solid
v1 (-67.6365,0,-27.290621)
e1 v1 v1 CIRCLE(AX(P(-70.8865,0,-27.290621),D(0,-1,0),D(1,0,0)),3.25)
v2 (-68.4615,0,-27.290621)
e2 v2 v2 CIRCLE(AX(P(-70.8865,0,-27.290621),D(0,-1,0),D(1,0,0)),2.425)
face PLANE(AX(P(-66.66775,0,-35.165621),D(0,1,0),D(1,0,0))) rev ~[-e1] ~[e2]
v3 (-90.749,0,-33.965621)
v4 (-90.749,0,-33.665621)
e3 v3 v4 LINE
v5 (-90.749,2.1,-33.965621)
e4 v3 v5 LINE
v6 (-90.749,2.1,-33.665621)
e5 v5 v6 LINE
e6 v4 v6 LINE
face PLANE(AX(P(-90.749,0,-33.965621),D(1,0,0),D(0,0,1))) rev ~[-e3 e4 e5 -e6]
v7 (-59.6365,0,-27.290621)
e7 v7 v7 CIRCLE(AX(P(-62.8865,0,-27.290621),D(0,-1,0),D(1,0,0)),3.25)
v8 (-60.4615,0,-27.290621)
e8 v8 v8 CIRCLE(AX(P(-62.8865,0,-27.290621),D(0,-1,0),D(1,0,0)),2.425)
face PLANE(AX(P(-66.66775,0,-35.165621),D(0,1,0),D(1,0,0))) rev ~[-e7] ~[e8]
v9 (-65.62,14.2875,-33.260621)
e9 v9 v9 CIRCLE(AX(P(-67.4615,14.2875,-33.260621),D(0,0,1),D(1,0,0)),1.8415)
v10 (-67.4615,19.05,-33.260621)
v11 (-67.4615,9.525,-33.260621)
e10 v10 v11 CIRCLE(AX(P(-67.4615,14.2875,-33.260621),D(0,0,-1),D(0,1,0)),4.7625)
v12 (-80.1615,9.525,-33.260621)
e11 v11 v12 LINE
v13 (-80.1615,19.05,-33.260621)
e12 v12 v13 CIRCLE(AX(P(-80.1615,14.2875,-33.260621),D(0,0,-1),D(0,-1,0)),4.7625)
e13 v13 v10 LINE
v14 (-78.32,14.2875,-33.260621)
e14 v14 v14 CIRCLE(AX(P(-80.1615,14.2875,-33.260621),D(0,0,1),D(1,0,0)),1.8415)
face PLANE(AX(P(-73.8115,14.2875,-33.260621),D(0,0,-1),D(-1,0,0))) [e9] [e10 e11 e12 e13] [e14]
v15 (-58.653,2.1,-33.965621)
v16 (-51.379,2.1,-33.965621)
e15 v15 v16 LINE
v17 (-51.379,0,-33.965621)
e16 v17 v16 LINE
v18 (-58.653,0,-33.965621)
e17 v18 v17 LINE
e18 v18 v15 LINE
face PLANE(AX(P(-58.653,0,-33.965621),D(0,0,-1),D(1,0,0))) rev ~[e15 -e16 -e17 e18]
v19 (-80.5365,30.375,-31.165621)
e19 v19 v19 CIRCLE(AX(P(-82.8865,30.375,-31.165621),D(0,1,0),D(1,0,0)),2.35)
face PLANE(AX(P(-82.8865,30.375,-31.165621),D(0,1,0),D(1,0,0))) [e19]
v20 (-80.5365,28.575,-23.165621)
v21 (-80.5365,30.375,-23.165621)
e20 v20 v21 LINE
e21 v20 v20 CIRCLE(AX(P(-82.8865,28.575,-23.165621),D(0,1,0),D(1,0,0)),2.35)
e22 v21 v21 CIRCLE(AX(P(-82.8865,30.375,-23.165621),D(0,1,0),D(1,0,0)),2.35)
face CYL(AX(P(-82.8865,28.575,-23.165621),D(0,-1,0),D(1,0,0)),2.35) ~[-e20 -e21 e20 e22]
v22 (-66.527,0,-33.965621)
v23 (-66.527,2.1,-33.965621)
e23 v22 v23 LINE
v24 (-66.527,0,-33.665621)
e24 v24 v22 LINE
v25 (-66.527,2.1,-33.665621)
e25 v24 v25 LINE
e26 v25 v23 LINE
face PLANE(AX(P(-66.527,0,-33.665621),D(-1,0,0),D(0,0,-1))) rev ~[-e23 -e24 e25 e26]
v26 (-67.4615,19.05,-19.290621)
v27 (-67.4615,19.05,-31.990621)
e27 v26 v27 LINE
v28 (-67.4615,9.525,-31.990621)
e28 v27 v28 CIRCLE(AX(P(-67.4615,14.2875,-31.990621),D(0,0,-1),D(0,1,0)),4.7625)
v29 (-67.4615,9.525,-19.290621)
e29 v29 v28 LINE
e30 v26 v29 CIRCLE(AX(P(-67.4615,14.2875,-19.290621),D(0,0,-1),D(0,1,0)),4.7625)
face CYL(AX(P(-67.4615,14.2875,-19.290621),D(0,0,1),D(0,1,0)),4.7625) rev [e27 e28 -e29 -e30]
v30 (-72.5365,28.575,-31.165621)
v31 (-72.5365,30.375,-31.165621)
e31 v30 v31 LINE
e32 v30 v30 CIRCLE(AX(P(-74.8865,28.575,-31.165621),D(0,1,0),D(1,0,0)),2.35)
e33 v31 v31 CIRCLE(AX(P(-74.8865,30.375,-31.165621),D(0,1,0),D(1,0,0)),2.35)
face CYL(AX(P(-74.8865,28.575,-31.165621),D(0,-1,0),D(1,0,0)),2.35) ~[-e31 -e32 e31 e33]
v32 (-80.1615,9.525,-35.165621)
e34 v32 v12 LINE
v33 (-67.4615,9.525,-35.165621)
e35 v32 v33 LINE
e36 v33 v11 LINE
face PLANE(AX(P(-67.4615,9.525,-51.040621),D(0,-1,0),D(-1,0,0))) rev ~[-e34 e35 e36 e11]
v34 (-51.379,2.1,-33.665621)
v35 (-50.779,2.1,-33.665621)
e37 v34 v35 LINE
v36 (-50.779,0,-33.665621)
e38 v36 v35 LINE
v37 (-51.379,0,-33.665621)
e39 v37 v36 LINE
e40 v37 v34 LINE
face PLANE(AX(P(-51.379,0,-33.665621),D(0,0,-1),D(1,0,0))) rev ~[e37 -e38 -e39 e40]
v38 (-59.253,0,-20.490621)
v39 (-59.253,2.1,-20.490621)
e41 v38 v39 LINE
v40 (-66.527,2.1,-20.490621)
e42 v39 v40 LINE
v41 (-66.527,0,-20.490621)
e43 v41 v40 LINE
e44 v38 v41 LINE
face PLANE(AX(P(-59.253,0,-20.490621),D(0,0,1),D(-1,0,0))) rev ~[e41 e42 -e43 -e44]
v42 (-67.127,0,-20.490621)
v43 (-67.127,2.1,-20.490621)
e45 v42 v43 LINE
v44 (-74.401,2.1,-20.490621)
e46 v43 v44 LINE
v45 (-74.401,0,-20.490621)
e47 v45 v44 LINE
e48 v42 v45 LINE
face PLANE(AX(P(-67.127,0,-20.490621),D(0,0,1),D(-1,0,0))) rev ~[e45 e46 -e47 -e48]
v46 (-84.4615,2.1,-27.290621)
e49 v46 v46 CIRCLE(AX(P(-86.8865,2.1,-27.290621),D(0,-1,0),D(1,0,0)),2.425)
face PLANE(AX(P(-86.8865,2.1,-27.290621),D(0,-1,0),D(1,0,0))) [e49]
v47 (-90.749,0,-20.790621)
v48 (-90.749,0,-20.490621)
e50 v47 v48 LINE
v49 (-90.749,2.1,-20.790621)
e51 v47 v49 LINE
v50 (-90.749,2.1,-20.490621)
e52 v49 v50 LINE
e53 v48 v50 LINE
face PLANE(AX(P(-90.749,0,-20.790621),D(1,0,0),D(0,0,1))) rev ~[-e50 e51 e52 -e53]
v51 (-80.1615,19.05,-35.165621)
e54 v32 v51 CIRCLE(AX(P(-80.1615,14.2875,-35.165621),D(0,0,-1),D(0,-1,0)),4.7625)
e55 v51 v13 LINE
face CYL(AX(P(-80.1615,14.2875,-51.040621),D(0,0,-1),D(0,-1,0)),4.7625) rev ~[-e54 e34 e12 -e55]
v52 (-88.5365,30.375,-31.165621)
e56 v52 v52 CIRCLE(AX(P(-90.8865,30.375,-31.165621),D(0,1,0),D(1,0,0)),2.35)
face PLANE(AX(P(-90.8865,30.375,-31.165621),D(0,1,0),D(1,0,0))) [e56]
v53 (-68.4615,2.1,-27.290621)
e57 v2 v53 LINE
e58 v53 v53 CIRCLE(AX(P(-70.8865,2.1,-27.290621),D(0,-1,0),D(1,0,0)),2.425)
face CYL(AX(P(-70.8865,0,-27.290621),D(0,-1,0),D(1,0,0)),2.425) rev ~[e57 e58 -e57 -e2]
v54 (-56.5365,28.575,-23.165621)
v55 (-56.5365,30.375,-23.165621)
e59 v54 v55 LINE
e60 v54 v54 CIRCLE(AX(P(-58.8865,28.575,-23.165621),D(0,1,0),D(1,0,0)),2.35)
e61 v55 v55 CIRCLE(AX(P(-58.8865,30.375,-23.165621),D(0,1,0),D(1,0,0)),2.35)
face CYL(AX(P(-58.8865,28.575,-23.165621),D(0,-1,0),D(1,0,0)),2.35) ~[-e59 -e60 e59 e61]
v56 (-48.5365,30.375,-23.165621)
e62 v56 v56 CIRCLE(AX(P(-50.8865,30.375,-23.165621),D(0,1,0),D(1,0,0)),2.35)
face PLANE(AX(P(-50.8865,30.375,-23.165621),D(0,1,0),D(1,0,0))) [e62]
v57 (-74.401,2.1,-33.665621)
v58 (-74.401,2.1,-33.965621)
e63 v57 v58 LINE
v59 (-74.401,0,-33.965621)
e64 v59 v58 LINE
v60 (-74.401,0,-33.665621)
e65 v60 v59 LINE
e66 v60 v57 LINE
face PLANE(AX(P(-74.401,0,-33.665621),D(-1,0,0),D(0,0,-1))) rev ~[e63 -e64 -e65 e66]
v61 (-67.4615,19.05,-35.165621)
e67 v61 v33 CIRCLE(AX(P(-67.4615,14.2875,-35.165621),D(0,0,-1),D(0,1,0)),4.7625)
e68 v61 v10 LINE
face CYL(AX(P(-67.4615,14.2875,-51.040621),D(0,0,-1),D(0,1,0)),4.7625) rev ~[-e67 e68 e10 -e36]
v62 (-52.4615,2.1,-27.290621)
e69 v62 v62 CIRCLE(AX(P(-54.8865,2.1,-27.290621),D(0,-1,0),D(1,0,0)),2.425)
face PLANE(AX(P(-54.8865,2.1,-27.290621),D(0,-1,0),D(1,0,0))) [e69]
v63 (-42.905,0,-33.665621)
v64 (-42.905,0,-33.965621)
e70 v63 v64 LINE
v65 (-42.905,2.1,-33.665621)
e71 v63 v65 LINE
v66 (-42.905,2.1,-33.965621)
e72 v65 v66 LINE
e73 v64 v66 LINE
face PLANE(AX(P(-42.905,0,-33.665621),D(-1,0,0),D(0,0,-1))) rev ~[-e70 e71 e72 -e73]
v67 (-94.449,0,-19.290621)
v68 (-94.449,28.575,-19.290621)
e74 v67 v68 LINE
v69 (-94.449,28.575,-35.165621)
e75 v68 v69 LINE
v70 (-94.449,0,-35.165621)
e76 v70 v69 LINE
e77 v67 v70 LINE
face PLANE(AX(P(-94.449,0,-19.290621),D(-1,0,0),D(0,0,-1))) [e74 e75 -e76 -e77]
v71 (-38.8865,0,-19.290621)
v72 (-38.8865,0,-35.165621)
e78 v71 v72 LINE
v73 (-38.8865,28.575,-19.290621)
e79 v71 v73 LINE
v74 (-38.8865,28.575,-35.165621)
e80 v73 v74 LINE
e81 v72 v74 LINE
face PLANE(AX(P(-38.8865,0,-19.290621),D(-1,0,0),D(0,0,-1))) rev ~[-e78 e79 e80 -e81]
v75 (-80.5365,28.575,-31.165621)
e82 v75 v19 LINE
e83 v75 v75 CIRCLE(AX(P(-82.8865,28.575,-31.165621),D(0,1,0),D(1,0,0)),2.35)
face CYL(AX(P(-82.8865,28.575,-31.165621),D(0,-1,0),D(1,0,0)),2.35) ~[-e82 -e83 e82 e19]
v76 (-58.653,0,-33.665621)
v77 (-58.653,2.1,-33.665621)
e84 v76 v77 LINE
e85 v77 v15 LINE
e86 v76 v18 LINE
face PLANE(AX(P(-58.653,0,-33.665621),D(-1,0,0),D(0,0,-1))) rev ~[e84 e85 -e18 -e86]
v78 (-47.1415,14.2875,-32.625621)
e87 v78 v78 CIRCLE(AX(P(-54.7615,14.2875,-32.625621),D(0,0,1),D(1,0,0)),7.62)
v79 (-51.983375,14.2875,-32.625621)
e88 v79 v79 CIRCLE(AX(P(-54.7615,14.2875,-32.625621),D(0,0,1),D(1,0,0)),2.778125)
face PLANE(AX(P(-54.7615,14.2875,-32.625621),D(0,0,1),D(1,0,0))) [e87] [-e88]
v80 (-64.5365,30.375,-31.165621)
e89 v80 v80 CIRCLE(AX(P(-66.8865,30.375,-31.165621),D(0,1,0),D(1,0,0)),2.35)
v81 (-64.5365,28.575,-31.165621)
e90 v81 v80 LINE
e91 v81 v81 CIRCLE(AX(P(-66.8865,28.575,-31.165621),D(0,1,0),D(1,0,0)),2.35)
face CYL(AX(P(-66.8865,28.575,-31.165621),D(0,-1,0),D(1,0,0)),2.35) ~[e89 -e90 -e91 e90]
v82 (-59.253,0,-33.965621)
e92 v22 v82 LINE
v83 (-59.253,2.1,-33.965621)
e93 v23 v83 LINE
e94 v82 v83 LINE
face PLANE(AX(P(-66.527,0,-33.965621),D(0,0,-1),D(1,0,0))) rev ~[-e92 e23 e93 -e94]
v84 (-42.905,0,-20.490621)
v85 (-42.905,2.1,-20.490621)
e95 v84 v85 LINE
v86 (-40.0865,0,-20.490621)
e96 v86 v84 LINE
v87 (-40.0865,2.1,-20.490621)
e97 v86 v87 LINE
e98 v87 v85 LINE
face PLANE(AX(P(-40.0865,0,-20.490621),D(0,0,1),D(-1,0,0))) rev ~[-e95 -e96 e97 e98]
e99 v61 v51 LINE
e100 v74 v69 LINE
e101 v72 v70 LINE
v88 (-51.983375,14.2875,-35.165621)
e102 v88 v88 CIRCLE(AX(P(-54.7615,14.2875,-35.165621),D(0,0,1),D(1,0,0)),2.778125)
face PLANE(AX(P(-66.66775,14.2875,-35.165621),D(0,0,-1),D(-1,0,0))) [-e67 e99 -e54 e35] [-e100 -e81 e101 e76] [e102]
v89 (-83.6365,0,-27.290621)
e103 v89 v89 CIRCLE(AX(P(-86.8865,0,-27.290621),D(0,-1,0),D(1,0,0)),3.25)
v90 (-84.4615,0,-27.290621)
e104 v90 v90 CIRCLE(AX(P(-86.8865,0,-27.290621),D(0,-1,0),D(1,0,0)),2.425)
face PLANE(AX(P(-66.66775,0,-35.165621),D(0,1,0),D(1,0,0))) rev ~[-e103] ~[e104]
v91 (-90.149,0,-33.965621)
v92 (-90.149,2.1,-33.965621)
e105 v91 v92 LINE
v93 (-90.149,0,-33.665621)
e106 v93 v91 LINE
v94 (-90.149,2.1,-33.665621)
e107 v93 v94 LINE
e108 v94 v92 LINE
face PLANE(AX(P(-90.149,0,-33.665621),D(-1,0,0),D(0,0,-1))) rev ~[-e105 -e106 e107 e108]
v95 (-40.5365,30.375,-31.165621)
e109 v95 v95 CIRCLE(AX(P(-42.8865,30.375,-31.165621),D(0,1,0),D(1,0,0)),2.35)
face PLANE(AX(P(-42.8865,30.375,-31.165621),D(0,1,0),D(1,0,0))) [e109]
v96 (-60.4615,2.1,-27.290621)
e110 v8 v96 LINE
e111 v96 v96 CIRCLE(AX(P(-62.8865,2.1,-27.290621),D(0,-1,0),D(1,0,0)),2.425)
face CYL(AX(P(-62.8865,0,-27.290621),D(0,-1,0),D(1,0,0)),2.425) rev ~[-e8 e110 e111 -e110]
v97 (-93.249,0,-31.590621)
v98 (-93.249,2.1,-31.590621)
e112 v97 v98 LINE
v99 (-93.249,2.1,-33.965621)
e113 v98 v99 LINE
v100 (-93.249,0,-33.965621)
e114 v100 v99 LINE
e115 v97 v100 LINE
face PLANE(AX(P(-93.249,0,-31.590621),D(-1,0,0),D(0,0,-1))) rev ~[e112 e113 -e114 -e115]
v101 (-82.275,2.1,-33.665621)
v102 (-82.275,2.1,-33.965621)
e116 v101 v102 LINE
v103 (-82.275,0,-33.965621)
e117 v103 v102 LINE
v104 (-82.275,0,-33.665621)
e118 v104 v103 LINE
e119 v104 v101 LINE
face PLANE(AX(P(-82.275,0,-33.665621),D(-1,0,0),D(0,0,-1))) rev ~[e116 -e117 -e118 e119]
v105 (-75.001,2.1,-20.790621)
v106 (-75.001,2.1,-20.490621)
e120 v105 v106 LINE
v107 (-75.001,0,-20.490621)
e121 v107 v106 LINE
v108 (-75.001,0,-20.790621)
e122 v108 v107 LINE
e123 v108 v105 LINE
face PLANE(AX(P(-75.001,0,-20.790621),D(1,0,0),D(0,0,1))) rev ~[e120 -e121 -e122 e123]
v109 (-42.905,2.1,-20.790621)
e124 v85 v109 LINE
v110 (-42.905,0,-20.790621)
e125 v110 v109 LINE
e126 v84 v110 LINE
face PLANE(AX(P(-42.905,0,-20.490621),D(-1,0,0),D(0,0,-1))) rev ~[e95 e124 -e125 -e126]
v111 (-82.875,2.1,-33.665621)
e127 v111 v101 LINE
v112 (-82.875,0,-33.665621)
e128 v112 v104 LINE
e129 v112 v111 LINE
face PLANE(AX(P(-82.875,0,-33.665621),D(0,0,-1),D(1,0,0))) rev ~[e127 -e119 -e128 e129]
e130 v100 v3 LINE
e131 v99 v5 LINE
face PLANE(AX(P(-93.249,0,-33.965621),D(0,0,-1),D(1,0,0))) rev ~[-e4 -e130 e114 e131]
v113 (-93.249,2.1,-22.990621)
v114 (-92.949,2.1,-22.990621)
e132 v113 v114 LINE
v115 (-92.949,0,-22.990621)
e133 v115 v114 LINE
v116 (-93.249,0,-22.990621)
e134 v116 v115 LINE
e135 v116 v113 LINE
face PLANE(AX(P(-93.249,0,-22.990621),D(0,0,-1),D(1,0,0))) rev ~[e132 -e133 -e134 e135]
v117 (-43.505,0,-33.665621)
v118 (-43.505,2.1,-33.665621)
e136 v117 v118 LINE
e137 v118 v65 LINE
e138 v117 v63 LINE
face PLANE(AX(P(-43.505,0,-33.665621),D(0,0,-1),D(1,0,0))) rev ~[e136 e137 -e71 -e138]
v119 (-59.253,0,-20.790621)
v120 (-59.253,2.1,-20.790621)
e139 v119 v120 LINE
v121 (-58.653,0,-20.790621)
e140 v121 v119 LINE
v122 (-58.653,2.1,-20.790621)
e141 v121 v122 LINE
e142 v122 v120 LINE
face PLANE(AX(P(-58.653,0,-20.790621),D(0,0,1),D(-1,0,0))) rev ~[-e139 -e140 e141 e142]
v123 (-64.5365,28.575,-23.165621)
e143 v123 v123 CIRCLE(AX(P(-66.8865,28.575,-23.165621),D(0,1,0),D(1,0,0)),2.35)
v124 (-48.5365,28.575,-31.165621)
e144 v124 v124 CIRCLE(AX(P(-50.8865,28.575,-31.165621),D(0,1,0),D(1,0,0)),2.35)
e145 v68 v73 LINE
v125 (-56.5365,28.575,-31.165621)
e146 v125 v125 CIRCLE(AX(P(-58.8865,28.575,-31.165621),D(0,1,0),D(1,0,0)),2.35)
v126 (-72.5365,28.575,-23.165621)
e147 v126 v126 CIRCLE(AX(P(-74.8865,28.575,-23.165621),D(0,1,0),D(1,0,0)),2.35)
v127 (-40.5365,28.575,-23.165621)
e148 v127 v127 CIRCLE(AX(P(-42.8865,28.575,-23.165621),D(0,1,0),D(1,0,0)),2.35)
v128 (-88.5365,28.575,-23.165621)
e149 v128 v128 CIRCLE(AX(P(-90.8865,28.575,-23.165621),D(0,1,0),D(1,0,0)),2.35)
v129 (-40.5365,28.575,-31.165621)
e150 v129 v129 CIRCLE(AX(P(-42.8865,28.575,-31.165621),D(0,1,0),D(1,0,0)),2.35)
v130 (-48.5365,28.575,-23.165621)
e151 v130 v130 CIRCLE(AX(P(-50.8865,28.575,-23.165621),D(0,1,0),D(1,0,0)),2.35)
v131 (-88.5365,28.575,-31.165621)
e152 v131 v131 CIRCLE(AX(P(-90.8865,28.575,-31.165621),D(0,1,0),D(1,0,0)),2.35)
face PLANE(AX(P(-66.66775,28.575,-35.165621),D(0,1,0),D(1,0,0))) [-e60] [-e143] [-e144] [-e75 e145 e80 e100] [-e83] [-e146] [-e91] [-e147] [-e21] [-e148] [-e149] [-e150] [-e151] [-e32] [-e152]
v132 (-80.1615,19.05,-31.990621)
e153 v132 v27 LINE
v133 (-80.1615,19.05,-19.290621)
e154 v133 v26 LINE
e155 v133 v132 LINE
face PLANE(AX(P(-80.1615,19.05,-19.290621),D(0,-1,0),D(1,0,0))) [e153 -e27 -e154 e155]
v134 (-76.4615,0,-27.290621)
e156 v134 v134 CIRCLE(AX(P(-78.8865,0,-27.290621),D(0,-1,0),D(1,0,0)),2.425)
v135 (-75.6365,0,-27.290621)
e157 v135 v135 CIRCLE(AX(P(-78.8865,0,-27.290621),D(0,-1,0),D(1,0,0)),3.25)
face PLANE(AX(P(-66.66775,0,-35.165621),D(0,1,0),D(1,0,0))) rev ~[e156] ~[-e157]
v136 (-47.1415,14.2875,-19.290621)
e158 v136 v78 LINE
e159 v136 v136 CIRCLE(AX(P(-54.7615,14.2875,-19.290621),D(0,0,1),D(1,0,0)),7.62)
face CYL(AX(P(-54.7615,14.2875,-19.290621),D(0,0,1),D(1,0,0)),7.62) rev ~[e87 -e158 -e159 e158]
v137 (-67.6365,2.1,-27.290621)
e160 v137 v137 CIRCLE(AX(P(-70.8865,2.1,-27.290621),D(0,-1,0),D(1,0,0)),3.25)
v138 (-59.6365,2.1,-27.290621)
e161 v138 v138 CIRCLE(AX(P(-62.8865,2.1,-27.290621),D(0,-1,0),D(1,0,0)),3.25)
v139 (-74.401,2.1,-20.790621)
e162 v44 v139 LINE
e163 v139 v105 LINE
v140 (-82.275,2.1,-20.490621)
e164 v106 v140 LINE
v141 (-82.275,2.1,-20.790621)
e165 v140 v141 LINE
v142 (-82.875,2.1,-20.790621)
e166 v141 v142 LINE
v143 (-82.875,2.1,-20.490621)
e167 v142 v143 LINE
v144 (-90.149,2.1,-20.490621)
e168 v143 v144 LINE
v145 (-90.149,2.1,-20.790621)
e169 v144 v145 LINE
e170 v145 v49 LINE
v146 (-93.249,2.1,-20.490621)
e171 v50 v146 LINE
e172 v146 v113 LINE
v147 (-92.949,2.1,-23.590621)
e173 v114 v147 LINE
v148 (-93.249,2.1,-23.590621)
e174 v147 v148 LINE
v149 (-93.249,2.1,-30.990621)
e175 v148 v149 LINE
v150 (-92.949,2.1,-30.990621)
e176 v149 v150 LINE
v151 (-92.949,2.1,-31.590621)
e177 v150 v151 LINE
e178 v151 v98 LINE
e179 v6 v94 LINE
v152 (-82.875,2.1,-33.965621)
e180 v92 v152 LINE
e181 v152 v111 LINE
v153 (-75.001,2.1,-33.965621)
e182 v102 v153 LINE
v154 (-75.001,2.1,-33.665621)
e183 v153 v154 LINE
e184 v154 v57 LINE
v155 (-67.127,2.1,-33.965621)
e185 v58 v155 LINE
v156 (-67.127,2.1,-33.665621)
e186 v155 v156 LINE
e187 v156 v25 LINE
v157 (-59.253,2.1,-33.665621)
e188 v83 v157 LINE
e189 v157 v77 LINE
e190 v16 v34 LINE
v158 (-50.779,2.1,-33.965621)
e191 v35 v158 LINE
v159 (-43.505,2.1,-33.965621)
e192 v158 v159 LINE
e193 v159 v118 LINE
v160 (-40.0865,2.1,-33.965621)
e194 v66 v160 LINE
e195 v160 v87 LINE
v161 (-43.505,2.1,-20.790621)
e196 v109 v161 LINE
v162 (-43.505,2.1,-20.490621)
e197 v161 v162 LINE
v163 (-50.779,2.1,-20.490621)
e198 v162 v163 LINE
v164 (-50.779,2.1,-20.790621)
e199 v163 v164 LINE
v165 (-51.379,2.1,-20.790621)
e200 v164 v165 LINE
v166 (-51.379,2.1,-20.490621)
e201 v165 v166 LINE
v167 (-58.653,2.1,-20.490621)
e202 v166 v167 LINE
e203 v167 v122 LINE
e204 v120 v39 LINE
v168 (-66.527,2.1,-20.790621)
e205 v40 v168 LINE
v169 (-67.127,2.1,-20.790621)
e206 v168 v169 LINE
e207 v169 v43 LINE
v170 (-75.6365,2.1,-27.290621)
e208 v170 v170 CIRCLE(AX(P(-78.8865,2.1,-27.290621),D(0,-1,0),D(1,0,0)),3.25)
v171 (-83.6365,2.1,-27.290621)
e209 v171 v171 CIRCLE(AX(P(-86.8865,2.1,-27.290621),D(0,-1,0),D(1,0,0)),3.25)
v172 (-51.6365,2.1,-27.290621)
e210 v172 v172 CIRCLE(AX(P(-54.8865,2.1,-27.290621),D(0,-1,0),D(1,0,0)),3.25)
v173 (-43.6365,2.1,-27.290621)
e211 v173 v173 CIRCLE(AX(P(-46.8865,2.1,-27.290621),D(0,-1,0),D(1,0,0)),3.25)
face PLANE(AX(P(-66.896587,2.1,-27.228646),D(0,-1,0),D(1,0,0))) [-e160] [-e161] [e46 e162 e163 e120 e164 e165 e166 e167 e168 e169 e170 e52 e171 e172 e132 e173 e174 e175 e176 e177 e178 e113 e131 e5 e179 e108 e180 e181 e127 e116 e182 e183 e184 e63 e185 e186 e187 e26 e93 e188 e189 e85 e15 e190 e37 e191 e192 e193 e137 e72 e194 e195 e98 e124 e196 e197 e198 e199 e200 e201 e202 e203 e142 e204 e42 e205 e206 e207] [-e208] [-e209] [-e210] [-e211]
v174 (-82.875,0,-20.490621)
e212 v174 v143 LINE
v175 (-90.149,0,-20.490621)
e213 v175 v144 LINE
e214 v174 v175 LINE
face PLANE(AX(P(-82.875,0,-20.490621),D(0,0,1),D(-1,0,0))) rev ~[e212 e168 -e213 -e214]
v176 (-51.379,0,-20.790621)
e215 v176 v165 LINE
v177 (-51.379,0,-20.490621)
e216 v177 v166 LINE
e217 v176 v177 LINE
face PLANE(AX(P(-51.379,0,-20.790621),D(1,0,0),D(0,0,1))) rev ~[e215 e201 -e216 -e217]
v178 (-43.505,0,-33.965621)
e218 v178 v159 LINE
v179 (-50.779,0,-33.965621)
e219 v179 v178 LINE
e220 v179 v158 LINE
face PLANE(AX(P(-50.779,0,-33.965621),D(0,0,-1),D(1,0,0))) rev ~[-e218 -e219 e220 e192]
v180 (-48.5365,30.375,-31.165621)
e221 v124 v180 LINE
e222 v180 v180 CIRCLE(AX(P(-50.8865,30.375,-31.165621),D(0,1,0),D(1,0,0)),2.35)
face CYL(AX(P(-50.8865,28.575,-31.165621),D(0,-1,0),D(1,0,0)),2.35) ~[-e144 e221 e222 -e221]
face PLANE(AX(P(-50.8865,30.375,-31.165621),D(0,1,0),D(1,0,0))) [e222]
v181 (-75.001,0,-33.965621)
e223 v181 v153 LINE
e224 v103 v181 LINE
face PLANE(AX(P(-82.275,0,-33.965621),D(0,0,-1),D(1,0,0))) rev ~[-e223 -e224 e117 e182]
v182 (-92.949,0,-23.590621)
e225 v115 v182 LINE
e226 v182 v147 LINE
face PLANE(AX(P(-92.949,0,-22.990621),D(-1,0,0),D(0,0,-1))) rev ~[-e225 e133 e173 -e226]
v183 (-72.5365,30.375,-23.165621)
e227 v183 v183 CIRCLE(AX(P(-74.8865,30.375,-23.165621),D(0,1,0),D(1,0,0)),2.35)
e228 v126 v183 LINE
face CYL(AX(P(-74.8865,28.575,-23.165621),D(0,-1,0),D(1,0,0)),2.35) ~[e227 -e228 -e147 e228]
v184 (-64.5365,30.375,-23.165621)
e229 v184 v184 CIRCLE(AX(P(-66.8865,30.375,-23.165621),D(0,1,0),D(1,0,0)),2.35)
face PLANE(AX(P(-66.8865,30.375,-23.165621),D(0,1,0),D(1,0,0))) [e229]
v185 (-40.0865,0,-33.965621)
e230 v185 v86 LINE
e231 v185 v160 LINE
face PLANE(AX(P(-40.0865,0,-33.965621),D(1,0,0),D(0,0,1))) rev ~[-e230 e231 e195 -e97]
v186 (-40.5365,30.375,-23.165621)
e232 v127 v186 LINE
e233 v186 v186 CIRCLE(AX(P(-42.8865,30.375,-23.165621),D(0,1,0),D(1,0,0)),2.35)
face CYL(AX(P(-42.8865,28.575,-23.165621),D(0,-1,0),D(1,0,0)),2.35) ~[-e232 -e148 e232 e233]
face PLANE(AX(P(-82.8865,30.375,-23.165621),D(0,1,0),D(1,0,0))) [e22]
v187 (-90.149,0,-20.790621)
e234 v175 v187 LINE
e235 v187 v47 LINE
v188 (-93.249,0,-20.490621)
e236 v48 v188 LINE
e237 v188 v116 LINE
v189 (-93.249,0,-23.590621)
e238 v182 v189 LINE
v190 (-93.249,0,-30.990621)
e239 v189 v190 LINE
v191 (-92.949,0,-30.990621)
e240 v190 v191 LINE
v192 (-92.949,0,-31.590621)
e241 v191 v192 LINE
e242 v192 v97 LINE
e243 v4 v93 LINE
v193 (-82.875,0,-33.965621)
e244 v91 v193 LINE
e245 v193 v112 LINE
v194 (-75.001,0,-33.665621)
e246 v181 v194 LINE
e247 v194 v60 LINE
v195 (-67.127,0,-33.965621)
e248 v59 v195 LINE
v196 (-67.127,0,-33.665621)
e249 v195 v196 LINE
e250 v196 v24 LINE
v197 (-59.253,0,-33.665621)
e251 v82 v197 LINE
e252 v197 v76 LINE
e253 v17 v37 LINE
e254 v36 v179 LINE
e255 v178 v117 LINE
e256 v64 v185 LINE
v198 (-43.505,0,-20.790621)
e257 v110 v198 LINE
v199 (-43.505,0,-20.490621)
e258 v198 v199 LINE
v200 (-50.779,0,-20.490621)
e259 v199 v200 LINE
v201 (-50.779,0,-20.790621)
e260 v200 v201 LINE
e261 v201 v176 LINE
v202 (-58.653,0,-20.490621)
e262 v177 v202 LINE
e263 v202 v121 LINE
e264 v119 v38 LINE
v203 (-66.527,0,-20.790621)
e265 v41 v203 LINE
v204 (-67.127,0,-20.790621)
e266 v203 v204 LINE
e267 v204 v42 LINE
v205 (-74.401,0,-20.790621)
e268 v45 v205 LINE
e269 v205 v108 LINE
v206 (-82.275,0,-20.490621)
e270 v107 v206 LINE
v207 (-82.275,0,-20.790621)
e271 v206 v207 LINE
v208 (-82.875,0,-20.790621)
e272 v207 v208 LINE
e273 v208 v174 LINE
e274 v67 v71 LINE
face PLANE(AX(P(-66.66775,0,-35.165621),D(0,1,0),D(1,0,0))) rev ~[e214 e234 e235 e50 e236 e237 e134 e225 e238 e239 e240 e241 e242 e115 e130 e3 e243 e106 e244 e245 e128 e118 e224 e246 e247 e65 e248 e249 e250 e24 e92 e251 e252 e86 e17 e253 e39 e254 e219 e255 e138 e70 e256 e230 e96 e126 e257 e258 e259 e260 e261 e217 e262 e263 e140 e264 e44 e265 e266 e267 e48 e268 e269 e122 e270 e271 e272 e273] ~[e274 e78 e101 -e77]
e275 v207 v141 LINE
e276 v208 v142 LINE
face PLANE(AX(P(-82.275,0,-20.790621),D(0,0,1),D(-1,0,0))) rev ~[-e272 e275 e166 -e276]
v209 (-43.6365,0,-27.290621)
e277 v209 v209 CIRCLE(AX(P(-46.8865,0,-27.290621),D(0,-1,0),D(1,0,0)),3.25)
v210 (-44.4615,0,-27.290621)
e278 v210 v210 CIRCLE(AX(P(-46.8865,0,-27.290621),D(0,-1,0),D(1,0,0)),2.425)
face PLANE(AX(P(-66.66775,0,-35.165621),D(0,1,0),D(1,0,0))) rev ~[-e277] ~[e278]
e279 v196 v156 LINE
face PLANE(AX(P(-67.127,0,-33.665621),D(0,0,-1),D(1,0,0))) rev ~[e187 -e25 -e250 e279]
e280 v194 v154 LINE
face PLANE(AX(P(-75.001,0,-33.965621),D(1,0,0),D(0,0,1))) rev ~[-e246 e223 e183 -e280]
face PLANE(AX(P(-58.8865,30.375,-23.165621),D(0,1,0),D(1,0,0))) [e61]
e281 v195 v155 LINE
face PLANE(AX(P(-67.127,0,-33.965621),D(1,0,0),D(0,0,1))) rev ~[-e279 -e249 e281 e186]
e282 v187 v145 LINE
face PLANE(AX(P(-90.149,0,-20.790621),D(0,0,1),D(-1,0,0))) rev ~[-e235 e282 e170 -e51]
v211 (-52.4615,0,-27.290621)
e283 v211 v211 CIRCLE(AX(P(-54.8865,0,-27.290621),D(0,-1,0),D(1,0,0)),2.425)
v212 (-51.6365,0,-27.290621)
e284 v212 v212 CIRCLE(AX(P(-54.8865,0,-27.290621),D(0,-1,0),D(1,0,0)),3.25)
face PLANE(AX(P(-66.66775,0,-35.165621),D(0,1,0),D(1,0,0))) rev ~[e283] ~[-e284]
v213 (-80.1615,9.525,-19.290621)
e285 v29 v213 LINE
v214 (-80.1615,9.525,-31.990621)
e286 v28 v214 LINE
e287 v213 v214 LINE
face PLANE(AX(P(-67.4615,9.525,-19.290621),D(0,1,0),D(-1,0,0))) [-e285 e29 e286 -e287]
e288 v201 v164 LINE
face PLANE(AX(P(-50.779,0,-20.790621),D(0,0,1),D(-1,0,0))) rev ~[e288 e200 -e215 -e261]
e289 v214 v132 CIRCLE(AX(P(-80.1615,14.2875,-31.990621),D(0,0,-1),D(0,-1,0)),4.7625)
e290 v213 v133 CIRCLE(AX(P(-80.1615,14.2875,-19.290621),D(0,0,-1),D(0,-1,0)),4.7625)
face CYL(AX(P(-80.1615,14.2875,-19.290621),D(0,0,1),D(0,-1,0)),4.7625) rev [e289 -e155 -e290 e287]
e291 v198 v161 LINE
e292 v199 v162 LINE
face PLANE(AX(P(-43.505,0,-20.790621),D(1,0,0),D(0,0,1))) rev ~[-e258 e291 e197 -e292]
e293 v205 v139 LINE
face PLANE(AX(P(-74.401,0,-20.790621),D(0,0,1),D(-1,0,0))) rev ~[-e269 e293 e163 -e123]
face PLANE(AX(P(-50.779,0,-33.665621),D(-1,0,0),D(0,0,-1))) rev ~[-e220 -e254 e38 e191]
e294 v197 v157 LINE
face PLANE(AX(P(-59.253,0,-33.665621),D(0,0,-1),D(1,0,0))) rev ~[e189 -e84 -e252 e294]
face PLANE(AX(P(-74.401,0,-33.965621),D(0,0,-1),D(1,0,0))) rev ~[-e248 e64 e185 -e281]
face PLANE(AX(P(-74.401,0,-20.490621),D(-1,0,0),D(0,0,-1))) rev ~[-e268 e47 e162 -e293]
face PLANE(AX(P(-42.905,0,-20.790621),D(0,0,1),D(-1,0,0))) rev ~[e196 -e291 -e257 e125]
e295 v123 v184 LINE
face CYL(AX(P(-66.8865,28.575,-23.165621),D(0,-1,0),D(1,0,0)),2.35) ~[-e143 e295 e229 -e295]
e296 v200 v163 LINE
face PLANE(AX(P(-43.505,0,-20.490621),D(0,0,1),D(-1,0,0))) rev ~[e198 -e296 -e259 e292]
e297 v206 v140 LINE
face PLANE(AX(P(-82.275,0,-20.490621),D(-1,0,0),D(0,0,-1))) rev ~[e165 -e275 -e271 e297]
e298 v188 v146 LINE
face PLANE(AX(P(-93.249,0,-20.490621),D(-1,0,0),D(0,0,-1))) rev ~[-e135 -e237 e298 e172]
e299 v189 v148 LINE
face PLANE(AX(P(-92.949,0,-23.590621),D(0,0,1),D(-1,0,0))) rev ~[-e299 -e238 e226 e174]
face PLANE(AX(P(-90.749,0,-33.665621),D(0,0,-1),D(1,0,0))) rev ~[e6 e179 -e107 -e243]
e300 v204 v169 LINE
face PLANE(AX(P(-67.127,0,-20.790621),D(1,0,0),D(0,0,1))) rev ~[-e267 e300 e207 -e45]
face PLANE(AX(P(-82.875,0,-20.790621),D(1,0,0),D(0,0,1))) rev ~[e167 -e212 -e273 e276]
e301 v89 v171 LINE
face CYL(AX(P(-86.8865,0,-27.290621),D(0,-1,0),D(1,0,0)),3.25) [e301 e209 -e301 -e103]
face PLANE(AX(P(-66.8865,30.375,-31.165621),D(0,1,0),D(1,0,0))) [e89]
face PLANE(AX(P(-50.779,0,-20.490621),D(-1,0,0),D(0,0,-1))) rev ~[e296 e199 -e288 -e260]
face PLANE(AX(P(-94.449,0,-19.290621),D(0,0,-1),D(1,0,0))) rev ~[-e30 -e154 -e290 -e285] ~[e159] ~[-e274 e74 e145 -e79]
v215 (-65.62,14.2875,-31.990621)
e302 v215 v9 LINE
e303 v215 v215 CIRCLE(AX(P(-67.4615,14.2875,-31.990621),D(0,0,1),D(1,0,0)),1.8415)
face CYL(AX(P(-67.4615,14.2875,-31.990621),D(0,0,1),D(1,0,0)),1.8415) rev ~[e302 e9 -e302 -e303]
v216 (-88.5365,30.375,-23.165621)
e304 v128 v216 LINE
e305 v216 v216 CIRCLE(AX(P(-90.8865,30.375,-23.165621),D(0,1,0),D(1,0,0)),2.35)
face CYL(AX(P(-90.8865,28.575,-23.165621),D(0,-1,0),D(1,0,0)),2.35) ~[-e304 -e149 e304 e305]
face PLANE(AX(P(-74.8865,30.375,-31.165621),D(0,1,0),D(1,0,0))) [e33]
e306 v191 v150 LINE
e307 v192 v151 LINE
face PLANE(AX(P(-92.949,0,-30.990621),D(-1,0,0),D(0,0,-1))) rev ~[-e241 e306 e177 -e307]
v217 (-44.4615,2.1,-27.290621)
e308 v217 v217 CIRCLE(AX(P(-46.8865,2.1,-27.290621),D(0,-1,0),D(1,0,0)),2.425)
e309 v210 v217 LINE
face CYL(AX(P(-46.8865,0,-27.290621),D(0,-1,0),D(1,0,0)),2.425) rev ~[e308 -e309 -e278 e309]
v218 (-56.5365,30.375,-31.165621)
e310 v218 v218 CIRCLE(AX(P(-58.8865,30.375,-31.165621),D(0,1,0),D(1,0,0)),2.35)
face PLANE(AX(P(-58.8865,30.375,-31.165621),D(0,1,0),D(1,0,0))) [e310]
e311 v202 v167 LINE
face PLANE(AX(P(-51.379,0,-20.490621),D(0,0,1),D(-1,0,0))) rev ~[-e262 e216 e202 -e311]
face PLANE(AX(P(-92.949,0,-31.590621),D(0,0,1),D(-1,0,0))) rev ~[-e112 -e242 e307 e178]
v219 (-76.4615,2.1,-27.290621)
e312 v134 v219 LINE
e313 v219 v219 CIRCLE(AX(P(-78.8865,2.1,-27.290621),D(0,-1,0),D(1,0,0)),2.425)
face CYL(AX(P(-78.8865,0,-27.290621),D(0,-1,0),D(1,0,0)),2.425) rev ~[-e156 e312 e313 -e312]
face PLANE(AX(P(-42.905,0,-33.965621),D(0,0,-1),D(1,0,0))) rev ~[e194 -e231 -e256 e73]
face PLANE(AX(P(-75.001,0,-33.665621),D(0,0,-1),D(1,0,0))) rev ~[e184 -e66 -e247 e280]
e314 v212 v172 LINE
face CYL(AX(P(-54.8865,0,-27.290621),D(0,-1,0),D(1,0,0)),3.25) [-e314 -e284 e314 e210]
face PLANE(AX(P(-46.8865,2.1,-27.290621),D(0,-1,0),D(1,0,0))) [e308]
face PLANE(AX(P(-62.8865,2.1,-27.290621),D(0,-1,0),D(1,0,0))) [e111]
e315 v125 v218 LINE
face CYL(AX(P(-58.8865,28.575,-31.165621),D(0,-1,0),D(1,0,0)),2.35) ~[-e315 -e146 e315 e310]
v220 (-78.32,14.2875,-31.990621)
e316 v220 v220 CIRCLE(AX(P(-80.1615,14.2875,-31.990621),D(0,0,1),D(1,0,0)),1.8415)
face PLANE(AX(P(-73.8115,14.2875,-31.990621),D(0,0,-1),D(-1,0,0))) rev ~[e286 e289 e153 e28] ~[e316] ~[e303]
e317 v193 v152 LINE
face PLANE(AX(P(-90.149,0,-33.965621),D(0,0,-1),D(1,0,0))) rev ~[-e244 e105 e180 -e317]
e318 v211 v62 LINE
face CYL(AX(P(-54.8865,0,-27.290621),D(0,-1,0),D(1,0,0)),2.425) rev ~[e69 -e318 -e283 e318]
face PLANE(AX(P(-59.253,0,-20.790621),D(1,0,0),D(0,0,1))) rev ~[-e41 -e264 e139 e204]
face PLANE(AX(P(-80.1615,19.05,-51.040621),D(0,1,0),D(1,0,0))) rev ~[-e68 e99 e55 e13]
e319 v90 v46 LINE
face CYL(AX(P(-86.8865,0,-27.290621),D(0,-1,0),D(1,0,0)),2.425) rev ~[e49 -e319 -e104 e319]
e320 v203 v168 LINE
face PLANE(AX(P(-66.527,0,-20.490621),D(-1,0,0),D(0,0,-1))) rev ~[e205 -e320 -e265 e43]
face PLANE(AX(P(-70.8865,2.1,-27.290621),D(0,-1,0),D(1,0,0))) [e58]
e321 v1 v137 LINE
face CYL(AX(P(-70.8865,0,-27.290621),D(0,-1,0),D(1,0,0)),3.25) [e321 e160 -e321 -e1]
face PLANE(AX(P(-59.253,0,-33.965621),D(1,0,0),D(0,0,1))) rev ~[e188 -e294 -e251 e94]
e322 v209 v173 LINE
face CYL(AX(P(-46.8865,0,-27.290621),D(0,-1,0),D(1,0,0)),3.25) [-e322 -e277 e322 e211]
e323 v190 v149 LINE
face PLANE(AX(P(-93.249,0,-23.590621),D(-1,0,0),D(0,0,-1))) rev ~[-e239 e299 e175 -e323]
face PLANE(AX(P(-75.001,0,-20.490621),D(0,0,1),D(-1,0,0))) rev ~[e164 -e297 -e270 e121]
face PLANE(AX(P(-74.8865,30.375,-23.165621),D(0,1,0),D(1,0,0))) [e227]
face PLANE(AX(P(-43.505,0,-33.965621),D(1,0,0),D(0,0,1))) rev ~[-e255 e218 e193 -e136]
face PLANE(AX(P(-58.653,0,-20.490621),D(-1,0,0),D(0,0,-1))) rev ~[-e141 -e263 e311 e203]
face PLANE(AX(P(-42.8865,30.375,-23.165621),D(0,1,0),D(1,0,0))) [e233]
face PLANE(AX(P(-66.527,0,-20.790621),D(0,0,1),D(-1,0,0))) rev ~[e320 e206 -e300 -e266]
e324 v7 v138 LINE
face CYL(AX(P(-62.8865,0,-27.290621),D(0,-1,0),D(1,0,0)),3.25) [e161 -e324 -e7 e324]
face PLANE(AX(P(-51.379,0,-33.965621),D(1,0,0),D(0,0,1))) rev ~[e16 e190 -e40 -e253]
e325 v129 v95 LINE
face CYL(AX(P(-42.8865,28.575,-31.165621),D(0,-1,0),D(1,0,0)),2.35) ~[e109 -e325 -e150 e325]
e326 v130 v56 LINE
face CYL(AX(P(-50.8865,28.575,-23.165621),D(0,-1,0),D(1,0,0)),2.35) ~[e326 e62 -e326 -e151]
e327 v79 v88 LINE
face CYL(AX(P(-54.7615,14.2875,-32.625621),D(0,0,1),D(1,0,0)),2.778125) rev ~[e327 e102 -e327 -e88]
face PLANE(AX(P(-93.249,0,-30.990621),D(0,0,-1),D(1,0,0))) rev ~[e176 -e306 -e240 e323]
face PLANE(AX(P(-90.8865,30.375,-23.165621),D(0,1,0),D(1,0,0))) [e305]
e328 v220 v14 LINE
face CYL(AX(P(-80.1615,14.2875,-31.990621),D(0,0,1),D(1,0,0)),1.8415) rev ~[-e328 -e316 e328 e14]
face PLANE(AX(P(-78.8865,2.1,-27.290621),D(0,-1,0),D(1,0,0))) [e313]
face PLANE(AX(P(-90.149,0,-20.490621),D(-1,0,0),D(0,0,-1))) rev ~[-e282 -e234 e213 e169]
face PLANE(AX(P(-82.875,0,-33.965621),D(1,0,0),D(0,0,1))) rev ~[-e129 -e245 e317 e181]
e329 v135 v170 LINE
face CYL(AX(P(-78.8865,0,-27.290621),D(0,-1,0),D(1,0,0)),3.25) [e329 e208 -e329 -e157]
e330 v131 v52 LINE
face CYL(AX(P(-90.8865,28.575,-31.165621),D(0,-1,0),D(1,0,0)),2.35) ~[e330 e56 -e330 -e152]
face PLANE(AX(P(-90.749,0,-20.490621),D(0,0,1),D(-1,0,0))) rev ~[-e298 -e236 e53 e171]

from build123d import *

# Parameters (mm, degrees)
SKETCH1_W           = 55.5625
SKETCH1_H           = 31.75
BOSS_EXTRUDE1_DEPTH = 28.575
SKETCH2_R           = 7.62
CUT_EXTRUDE1_DEPTH  = 13.335
CUT_EXTRUDE2_DEPTH  = 12.7
SKETCH4_R           = 1.8415
CUT_EXTRUDE3_DEPTH  = 25.4
CUT_EXTRUDE4_DEPTH  = 17.78
SKETCH6_W           = 55.5625
SKETCH6_H           = 28.575
CUT_EXTRUDE5_DEPTH  = 15.875
SKETCH7_R           = 2.778125
CUT_EXTRUDE7_DEPTH  = 7.9375
SKETCH8_R           = 2.35
BOSS_EXTRUDE2_DEPTH = 1.8
SKETCH9_R           = 3.25
SKETCH9_R_2         = 2.425
CUT_EXTRUDE8_DEPTH  = 2.1


with BuildPart() as part:
    # Sketch1 → Boss-Extrude1 (new body)
    with BuildSketch(Plane(origin=(0, 0, 0), x_dir=(1, 0, 0), z_dir=(0, 1, 0))):
        with Locations((-66.667749699, 35.16562105)):
            Rectangle(SKETCH1_W, SKETCH1_H)
    extrude(amount=BOSS_EXTRUDE1_DEPTH)

    # Sketch2 → Cut-Extrude1 (cut)
    with BuildSketch(Plane.XY.offset(-19.29062105)):
        with Locations((-54.761499699, 14.2875)):
            Circle(SKETCH2_R)
    extrude(amount=-CUT_EXTRUDE1_DEPTH, mode=Mode.SUBTRACT)

    # Sketch3 → Cut-Extrude2 (cut)
    with BuildSketch(Plane.XY.offset(-19.29062105)):
        with BuildLine():
            Line((-80.161499699, 19.05), (-67.461499699, 19.05))
            ThreePointArc((-67.461499699, 19.05), (-62.698999699, 14.2875), (-67.461499699, 9.525))
            Line((-67.461499699, 9.525), (-80.161499699, 9.525))
            ThreePointArc((-80.161499699, 9.525), (-84.923999699, 14.2875), (-80.161499699, 19.05))
        make_face()
    extrude(amount=-CUT_EXTRUDE2_DEPTH, mode=Mode.SUBTRACT)

    # Sketch4 → Cut-Extrude3 (cut)
    with BuildSketch(Plane.XY.offset(-31.99062105)):
        with Locations((-80.161499699, 14.2875)):
            Circle(SKETCH4_R)
        with Locations((-67.461499699, 14.2875)):
            Circle(SKETCH4_R)
    extrude(amount=-CUT_EXTRUDE3_DEPTH, mode=Mode.SUBTRACT)

    # Sketch5 → Cut-Extrude4 (cut)
    with BuildSketch(Plane(origin=(0, 0, -51.04062105), x_dir=(-1, 0, 0), z_dir=(0, 0, -1))):
        with BuildLine():
            Line((67.461499699, 9.525), (80.161499699, 9.525))
            ThreePointArc((80.161499699, 9.525), (84.923999699, 14.2875), (80.161499699, 19.05))
            Line((80.161499699, 19.05), (67.461499699, 19.05))
            ThreePointArc((67.461499699, 19.05), (62.698999699, 14.2875), (67.461499699, 9.525))
        make_face()
    extrude(amount=-CUT_EXTRUDE4_DEPTH, mode=Mode.SUBTRACT)

    # Sketch6 → Cut-Extrude5 (cut)
    with BuildSketch(Plane(origin=(0, 0, -51.04062105), x_dir=(-1, 0, 0), z_dir=(0, 0, -1))):
        with Locations((66.667749699, 14.2875)):
            Rectangle(SKETCH6_W, SKETCH6_H)
    extrude(amount=-CUT_EXTRUDE5_DEPTH, mode=Mode.SUBTRACT)

    # Sketch7 → Cut-Extrude7 (cut)
    with BuildSketch(Plane.XY.offset(-32.62562105)):
        with Locations((-54.761499699, 14.2875)):
            Circle(SKETCH7_R)
    extrude(amount=-CUT_EXTRUDE7_DEPTH, mode=Mode.SUBTRACT)

    # Sketch8 → Boss-Extrude2 (add)
    with BuildSketch(Plane(origin=(0, 28.575, 0), x_dir=(1, 0, 0), z_dir=(0, 1, 0))):
        with Locations((-42.886499699, 31.16562105)):
            Circle(SKETCH8_R)
        with Locations((-42.886499699, 23.16562105)):
            Circle(SKETCH8_R)
        with Locations((-50.886499699, 31.16562105)):
            Circle(SKETCH8_R)
        with Locations((-50.886499699, 23.16562105)):
            Circle(SKETCH8_R)
        with Locations((-58.886499699, 31.16562105)):
            Circle(SKETCH8_R)
        with Locations((-58.886499699, 23.16562105)):
            Circle(SKETCH8_R)
        with Locations((-66.886499699, 31.16562105)):
            Circle(SKETCH8_R)
        with Locations((-66.886499699, 23.16562105)):
            Circle(SKETCH8_R)
        with Locations((-74.886499699, 31.16562105)):
            Circle(SKETCH8_R)
        with Locations((-74.886499699, 23.16562105)):
            Circle(SKETCH8_R)
        with Locations((-82.886499699, 31.16562105)):
            Circle(SKETCH8_R)
        with Locations((-82.886499699, 23.16562105)):
            Circle(SKETCH8_R)
        with Locations((-90.886499699, 31.16562105)):
            Circle(SKETCH8_R)
        with Locations((-90.886499699, 23.16562105)):
            Circle(SKETCH8_R)
    extrude(amount=BOSS_EXTRUDE2_DEPTH)

    # Sketch9 → Cut-Extrude8 (cut)
    with BuildSketch(Plane.XZ):
        Polygon((-82.874999699, -20.79062105), (-82.874999699, -20.49062105), (-90.148999699, -20.49062105), (-90.148999699, -20.79062105), (-90.748999699, -20.79062105), (-90.748999699, -20.49062105), (-93.248999699, -20.49062105), (-93.248999699, -22.99062105), (-92.948999699, -22.99062105), (-92.948999699, -23.59062105), (-93.248999699, -23.59062105), (-93.248999699, -30.99062105), (-92.948999699, -30.99062105), (-92.948999699, -31.59062105), (-93.248999699, -31.59062105), (-93.248999699, -33.96562105), (-90.748999699, -33.96562105), (-90.748999699, -33.66562105), (-90.148999699, -33.66562105), (-90.148999699, -33.96562105), (-82.874999699, -33.96562105), (-82.874999699, -33.66562105), (-82.274999699, -33.66562105), (-82.274999699, -33.96562105), (-75.000999699, -33.96562105), (-75.000999699, -33.66562105), (-74.400999699, -33.66562105), (-74.400999699, -33.96562105), (-67.126999699, -33.96562105), (-67.126999699, -33.66562105), (-66.526999699, -33.66562105), (-66.526999699, -33.96562105), (-59.252999699, -33.96562105), (-59.252999699, -33.66562105), (-58.652999699, -33.66562105), (-58.652999699, -33.96562105), (-51.378999699, -33.96562105), (-51.378999699, -33.66562105), (-50.778999699, -33.66562105), (-50.778999699, -33.96562105), (-43.504999699, -33.96562105), (-43.504999699, -33.66562105), (-42.904999699, -33.66562105), (-42.904999699, -33.96562105), (-40.086499699, -33.96562105), (-40.086499699, -20.49062105), (-42.904999699, -20.49062105), (-42.904999699, -20.79062105), (-43.504999699, -20.79062105), (-43.504999699, -20.49062105), (-50.778999699, -20.49062105), (-50.778999699, -20.79062105), (-51.378999699, -20.79062105), (-51.378999699, -20.49062105), (-58.652999699, -20.49062105), (-58.652999699, -20.79062105), (-59.252999699, -20.79062105), (-59.252999699, -20.49062105), (-66.526999699, -20.49062105), (-66.526999699, -20.79062105), (-67.126999699, -20.79062105), (-67.126999699, -20.49062105), (-74.400999699, -20.49062105), (-74.400999699, -20.79062105), (-75.000999699, -20.79062105), (-75.000999699, -20.49062105), (-82.274999699, -20.49062105), (-82.274999699, -20.79062105), align=None)
        with Locations((-86.886499699, -27.29062105)):
            Circle(SKETCH9_R, mode=Mode.SUBTRACT)
        with Locations((-78.886499699, -27.29062105)):
            Circle(SKETCH9_R, mode=Mode.SUBTRACT)
        with Locations((-70.886499699, -27.29062105)):
            Circle(SKETCH9_R, mode=Mode.SUBTRACT)
        with Locations((-62.886499699, -27.29062105)):
            Circle(SKETCH9_R, mode=Mode.SUBTRACT)
        with Locations((-54.886499699, -27.29062105)):
            Circle(SKETCH9_R, mode=Mode.SUBTRACT)
        with Locations((-46.886499699, -27.29062105)):
            Circle(SKETCH9_R, mode=Mode.SUBTRACT)
        with Locations((-46.886499699, -27.29062105)):
            Circle(SKETCH9_R_2)
        with Locations((-54.886499699, -27.29062105)):
            Circle(SKETCH9_R_2)
        with Locations((-62.886499699, -27.29062105)):
            Circle(SKETCH9_R_2)
        with Locations((-70.886499699, -27.29062105)):
            Circle(SKETCH9_R_2)
        with Locations((-78.886499699, -27.29062105)):
            Circle(SKETCH9_R_2)
        with Locations((-86.886499699, -27.29062105)):
            Circle(SKETCH9_R_2)
    extrude(amount=-CUT_EXTRUDE8_DEPTH, mode=Mode.SUBTRACT)


solid = part.part
